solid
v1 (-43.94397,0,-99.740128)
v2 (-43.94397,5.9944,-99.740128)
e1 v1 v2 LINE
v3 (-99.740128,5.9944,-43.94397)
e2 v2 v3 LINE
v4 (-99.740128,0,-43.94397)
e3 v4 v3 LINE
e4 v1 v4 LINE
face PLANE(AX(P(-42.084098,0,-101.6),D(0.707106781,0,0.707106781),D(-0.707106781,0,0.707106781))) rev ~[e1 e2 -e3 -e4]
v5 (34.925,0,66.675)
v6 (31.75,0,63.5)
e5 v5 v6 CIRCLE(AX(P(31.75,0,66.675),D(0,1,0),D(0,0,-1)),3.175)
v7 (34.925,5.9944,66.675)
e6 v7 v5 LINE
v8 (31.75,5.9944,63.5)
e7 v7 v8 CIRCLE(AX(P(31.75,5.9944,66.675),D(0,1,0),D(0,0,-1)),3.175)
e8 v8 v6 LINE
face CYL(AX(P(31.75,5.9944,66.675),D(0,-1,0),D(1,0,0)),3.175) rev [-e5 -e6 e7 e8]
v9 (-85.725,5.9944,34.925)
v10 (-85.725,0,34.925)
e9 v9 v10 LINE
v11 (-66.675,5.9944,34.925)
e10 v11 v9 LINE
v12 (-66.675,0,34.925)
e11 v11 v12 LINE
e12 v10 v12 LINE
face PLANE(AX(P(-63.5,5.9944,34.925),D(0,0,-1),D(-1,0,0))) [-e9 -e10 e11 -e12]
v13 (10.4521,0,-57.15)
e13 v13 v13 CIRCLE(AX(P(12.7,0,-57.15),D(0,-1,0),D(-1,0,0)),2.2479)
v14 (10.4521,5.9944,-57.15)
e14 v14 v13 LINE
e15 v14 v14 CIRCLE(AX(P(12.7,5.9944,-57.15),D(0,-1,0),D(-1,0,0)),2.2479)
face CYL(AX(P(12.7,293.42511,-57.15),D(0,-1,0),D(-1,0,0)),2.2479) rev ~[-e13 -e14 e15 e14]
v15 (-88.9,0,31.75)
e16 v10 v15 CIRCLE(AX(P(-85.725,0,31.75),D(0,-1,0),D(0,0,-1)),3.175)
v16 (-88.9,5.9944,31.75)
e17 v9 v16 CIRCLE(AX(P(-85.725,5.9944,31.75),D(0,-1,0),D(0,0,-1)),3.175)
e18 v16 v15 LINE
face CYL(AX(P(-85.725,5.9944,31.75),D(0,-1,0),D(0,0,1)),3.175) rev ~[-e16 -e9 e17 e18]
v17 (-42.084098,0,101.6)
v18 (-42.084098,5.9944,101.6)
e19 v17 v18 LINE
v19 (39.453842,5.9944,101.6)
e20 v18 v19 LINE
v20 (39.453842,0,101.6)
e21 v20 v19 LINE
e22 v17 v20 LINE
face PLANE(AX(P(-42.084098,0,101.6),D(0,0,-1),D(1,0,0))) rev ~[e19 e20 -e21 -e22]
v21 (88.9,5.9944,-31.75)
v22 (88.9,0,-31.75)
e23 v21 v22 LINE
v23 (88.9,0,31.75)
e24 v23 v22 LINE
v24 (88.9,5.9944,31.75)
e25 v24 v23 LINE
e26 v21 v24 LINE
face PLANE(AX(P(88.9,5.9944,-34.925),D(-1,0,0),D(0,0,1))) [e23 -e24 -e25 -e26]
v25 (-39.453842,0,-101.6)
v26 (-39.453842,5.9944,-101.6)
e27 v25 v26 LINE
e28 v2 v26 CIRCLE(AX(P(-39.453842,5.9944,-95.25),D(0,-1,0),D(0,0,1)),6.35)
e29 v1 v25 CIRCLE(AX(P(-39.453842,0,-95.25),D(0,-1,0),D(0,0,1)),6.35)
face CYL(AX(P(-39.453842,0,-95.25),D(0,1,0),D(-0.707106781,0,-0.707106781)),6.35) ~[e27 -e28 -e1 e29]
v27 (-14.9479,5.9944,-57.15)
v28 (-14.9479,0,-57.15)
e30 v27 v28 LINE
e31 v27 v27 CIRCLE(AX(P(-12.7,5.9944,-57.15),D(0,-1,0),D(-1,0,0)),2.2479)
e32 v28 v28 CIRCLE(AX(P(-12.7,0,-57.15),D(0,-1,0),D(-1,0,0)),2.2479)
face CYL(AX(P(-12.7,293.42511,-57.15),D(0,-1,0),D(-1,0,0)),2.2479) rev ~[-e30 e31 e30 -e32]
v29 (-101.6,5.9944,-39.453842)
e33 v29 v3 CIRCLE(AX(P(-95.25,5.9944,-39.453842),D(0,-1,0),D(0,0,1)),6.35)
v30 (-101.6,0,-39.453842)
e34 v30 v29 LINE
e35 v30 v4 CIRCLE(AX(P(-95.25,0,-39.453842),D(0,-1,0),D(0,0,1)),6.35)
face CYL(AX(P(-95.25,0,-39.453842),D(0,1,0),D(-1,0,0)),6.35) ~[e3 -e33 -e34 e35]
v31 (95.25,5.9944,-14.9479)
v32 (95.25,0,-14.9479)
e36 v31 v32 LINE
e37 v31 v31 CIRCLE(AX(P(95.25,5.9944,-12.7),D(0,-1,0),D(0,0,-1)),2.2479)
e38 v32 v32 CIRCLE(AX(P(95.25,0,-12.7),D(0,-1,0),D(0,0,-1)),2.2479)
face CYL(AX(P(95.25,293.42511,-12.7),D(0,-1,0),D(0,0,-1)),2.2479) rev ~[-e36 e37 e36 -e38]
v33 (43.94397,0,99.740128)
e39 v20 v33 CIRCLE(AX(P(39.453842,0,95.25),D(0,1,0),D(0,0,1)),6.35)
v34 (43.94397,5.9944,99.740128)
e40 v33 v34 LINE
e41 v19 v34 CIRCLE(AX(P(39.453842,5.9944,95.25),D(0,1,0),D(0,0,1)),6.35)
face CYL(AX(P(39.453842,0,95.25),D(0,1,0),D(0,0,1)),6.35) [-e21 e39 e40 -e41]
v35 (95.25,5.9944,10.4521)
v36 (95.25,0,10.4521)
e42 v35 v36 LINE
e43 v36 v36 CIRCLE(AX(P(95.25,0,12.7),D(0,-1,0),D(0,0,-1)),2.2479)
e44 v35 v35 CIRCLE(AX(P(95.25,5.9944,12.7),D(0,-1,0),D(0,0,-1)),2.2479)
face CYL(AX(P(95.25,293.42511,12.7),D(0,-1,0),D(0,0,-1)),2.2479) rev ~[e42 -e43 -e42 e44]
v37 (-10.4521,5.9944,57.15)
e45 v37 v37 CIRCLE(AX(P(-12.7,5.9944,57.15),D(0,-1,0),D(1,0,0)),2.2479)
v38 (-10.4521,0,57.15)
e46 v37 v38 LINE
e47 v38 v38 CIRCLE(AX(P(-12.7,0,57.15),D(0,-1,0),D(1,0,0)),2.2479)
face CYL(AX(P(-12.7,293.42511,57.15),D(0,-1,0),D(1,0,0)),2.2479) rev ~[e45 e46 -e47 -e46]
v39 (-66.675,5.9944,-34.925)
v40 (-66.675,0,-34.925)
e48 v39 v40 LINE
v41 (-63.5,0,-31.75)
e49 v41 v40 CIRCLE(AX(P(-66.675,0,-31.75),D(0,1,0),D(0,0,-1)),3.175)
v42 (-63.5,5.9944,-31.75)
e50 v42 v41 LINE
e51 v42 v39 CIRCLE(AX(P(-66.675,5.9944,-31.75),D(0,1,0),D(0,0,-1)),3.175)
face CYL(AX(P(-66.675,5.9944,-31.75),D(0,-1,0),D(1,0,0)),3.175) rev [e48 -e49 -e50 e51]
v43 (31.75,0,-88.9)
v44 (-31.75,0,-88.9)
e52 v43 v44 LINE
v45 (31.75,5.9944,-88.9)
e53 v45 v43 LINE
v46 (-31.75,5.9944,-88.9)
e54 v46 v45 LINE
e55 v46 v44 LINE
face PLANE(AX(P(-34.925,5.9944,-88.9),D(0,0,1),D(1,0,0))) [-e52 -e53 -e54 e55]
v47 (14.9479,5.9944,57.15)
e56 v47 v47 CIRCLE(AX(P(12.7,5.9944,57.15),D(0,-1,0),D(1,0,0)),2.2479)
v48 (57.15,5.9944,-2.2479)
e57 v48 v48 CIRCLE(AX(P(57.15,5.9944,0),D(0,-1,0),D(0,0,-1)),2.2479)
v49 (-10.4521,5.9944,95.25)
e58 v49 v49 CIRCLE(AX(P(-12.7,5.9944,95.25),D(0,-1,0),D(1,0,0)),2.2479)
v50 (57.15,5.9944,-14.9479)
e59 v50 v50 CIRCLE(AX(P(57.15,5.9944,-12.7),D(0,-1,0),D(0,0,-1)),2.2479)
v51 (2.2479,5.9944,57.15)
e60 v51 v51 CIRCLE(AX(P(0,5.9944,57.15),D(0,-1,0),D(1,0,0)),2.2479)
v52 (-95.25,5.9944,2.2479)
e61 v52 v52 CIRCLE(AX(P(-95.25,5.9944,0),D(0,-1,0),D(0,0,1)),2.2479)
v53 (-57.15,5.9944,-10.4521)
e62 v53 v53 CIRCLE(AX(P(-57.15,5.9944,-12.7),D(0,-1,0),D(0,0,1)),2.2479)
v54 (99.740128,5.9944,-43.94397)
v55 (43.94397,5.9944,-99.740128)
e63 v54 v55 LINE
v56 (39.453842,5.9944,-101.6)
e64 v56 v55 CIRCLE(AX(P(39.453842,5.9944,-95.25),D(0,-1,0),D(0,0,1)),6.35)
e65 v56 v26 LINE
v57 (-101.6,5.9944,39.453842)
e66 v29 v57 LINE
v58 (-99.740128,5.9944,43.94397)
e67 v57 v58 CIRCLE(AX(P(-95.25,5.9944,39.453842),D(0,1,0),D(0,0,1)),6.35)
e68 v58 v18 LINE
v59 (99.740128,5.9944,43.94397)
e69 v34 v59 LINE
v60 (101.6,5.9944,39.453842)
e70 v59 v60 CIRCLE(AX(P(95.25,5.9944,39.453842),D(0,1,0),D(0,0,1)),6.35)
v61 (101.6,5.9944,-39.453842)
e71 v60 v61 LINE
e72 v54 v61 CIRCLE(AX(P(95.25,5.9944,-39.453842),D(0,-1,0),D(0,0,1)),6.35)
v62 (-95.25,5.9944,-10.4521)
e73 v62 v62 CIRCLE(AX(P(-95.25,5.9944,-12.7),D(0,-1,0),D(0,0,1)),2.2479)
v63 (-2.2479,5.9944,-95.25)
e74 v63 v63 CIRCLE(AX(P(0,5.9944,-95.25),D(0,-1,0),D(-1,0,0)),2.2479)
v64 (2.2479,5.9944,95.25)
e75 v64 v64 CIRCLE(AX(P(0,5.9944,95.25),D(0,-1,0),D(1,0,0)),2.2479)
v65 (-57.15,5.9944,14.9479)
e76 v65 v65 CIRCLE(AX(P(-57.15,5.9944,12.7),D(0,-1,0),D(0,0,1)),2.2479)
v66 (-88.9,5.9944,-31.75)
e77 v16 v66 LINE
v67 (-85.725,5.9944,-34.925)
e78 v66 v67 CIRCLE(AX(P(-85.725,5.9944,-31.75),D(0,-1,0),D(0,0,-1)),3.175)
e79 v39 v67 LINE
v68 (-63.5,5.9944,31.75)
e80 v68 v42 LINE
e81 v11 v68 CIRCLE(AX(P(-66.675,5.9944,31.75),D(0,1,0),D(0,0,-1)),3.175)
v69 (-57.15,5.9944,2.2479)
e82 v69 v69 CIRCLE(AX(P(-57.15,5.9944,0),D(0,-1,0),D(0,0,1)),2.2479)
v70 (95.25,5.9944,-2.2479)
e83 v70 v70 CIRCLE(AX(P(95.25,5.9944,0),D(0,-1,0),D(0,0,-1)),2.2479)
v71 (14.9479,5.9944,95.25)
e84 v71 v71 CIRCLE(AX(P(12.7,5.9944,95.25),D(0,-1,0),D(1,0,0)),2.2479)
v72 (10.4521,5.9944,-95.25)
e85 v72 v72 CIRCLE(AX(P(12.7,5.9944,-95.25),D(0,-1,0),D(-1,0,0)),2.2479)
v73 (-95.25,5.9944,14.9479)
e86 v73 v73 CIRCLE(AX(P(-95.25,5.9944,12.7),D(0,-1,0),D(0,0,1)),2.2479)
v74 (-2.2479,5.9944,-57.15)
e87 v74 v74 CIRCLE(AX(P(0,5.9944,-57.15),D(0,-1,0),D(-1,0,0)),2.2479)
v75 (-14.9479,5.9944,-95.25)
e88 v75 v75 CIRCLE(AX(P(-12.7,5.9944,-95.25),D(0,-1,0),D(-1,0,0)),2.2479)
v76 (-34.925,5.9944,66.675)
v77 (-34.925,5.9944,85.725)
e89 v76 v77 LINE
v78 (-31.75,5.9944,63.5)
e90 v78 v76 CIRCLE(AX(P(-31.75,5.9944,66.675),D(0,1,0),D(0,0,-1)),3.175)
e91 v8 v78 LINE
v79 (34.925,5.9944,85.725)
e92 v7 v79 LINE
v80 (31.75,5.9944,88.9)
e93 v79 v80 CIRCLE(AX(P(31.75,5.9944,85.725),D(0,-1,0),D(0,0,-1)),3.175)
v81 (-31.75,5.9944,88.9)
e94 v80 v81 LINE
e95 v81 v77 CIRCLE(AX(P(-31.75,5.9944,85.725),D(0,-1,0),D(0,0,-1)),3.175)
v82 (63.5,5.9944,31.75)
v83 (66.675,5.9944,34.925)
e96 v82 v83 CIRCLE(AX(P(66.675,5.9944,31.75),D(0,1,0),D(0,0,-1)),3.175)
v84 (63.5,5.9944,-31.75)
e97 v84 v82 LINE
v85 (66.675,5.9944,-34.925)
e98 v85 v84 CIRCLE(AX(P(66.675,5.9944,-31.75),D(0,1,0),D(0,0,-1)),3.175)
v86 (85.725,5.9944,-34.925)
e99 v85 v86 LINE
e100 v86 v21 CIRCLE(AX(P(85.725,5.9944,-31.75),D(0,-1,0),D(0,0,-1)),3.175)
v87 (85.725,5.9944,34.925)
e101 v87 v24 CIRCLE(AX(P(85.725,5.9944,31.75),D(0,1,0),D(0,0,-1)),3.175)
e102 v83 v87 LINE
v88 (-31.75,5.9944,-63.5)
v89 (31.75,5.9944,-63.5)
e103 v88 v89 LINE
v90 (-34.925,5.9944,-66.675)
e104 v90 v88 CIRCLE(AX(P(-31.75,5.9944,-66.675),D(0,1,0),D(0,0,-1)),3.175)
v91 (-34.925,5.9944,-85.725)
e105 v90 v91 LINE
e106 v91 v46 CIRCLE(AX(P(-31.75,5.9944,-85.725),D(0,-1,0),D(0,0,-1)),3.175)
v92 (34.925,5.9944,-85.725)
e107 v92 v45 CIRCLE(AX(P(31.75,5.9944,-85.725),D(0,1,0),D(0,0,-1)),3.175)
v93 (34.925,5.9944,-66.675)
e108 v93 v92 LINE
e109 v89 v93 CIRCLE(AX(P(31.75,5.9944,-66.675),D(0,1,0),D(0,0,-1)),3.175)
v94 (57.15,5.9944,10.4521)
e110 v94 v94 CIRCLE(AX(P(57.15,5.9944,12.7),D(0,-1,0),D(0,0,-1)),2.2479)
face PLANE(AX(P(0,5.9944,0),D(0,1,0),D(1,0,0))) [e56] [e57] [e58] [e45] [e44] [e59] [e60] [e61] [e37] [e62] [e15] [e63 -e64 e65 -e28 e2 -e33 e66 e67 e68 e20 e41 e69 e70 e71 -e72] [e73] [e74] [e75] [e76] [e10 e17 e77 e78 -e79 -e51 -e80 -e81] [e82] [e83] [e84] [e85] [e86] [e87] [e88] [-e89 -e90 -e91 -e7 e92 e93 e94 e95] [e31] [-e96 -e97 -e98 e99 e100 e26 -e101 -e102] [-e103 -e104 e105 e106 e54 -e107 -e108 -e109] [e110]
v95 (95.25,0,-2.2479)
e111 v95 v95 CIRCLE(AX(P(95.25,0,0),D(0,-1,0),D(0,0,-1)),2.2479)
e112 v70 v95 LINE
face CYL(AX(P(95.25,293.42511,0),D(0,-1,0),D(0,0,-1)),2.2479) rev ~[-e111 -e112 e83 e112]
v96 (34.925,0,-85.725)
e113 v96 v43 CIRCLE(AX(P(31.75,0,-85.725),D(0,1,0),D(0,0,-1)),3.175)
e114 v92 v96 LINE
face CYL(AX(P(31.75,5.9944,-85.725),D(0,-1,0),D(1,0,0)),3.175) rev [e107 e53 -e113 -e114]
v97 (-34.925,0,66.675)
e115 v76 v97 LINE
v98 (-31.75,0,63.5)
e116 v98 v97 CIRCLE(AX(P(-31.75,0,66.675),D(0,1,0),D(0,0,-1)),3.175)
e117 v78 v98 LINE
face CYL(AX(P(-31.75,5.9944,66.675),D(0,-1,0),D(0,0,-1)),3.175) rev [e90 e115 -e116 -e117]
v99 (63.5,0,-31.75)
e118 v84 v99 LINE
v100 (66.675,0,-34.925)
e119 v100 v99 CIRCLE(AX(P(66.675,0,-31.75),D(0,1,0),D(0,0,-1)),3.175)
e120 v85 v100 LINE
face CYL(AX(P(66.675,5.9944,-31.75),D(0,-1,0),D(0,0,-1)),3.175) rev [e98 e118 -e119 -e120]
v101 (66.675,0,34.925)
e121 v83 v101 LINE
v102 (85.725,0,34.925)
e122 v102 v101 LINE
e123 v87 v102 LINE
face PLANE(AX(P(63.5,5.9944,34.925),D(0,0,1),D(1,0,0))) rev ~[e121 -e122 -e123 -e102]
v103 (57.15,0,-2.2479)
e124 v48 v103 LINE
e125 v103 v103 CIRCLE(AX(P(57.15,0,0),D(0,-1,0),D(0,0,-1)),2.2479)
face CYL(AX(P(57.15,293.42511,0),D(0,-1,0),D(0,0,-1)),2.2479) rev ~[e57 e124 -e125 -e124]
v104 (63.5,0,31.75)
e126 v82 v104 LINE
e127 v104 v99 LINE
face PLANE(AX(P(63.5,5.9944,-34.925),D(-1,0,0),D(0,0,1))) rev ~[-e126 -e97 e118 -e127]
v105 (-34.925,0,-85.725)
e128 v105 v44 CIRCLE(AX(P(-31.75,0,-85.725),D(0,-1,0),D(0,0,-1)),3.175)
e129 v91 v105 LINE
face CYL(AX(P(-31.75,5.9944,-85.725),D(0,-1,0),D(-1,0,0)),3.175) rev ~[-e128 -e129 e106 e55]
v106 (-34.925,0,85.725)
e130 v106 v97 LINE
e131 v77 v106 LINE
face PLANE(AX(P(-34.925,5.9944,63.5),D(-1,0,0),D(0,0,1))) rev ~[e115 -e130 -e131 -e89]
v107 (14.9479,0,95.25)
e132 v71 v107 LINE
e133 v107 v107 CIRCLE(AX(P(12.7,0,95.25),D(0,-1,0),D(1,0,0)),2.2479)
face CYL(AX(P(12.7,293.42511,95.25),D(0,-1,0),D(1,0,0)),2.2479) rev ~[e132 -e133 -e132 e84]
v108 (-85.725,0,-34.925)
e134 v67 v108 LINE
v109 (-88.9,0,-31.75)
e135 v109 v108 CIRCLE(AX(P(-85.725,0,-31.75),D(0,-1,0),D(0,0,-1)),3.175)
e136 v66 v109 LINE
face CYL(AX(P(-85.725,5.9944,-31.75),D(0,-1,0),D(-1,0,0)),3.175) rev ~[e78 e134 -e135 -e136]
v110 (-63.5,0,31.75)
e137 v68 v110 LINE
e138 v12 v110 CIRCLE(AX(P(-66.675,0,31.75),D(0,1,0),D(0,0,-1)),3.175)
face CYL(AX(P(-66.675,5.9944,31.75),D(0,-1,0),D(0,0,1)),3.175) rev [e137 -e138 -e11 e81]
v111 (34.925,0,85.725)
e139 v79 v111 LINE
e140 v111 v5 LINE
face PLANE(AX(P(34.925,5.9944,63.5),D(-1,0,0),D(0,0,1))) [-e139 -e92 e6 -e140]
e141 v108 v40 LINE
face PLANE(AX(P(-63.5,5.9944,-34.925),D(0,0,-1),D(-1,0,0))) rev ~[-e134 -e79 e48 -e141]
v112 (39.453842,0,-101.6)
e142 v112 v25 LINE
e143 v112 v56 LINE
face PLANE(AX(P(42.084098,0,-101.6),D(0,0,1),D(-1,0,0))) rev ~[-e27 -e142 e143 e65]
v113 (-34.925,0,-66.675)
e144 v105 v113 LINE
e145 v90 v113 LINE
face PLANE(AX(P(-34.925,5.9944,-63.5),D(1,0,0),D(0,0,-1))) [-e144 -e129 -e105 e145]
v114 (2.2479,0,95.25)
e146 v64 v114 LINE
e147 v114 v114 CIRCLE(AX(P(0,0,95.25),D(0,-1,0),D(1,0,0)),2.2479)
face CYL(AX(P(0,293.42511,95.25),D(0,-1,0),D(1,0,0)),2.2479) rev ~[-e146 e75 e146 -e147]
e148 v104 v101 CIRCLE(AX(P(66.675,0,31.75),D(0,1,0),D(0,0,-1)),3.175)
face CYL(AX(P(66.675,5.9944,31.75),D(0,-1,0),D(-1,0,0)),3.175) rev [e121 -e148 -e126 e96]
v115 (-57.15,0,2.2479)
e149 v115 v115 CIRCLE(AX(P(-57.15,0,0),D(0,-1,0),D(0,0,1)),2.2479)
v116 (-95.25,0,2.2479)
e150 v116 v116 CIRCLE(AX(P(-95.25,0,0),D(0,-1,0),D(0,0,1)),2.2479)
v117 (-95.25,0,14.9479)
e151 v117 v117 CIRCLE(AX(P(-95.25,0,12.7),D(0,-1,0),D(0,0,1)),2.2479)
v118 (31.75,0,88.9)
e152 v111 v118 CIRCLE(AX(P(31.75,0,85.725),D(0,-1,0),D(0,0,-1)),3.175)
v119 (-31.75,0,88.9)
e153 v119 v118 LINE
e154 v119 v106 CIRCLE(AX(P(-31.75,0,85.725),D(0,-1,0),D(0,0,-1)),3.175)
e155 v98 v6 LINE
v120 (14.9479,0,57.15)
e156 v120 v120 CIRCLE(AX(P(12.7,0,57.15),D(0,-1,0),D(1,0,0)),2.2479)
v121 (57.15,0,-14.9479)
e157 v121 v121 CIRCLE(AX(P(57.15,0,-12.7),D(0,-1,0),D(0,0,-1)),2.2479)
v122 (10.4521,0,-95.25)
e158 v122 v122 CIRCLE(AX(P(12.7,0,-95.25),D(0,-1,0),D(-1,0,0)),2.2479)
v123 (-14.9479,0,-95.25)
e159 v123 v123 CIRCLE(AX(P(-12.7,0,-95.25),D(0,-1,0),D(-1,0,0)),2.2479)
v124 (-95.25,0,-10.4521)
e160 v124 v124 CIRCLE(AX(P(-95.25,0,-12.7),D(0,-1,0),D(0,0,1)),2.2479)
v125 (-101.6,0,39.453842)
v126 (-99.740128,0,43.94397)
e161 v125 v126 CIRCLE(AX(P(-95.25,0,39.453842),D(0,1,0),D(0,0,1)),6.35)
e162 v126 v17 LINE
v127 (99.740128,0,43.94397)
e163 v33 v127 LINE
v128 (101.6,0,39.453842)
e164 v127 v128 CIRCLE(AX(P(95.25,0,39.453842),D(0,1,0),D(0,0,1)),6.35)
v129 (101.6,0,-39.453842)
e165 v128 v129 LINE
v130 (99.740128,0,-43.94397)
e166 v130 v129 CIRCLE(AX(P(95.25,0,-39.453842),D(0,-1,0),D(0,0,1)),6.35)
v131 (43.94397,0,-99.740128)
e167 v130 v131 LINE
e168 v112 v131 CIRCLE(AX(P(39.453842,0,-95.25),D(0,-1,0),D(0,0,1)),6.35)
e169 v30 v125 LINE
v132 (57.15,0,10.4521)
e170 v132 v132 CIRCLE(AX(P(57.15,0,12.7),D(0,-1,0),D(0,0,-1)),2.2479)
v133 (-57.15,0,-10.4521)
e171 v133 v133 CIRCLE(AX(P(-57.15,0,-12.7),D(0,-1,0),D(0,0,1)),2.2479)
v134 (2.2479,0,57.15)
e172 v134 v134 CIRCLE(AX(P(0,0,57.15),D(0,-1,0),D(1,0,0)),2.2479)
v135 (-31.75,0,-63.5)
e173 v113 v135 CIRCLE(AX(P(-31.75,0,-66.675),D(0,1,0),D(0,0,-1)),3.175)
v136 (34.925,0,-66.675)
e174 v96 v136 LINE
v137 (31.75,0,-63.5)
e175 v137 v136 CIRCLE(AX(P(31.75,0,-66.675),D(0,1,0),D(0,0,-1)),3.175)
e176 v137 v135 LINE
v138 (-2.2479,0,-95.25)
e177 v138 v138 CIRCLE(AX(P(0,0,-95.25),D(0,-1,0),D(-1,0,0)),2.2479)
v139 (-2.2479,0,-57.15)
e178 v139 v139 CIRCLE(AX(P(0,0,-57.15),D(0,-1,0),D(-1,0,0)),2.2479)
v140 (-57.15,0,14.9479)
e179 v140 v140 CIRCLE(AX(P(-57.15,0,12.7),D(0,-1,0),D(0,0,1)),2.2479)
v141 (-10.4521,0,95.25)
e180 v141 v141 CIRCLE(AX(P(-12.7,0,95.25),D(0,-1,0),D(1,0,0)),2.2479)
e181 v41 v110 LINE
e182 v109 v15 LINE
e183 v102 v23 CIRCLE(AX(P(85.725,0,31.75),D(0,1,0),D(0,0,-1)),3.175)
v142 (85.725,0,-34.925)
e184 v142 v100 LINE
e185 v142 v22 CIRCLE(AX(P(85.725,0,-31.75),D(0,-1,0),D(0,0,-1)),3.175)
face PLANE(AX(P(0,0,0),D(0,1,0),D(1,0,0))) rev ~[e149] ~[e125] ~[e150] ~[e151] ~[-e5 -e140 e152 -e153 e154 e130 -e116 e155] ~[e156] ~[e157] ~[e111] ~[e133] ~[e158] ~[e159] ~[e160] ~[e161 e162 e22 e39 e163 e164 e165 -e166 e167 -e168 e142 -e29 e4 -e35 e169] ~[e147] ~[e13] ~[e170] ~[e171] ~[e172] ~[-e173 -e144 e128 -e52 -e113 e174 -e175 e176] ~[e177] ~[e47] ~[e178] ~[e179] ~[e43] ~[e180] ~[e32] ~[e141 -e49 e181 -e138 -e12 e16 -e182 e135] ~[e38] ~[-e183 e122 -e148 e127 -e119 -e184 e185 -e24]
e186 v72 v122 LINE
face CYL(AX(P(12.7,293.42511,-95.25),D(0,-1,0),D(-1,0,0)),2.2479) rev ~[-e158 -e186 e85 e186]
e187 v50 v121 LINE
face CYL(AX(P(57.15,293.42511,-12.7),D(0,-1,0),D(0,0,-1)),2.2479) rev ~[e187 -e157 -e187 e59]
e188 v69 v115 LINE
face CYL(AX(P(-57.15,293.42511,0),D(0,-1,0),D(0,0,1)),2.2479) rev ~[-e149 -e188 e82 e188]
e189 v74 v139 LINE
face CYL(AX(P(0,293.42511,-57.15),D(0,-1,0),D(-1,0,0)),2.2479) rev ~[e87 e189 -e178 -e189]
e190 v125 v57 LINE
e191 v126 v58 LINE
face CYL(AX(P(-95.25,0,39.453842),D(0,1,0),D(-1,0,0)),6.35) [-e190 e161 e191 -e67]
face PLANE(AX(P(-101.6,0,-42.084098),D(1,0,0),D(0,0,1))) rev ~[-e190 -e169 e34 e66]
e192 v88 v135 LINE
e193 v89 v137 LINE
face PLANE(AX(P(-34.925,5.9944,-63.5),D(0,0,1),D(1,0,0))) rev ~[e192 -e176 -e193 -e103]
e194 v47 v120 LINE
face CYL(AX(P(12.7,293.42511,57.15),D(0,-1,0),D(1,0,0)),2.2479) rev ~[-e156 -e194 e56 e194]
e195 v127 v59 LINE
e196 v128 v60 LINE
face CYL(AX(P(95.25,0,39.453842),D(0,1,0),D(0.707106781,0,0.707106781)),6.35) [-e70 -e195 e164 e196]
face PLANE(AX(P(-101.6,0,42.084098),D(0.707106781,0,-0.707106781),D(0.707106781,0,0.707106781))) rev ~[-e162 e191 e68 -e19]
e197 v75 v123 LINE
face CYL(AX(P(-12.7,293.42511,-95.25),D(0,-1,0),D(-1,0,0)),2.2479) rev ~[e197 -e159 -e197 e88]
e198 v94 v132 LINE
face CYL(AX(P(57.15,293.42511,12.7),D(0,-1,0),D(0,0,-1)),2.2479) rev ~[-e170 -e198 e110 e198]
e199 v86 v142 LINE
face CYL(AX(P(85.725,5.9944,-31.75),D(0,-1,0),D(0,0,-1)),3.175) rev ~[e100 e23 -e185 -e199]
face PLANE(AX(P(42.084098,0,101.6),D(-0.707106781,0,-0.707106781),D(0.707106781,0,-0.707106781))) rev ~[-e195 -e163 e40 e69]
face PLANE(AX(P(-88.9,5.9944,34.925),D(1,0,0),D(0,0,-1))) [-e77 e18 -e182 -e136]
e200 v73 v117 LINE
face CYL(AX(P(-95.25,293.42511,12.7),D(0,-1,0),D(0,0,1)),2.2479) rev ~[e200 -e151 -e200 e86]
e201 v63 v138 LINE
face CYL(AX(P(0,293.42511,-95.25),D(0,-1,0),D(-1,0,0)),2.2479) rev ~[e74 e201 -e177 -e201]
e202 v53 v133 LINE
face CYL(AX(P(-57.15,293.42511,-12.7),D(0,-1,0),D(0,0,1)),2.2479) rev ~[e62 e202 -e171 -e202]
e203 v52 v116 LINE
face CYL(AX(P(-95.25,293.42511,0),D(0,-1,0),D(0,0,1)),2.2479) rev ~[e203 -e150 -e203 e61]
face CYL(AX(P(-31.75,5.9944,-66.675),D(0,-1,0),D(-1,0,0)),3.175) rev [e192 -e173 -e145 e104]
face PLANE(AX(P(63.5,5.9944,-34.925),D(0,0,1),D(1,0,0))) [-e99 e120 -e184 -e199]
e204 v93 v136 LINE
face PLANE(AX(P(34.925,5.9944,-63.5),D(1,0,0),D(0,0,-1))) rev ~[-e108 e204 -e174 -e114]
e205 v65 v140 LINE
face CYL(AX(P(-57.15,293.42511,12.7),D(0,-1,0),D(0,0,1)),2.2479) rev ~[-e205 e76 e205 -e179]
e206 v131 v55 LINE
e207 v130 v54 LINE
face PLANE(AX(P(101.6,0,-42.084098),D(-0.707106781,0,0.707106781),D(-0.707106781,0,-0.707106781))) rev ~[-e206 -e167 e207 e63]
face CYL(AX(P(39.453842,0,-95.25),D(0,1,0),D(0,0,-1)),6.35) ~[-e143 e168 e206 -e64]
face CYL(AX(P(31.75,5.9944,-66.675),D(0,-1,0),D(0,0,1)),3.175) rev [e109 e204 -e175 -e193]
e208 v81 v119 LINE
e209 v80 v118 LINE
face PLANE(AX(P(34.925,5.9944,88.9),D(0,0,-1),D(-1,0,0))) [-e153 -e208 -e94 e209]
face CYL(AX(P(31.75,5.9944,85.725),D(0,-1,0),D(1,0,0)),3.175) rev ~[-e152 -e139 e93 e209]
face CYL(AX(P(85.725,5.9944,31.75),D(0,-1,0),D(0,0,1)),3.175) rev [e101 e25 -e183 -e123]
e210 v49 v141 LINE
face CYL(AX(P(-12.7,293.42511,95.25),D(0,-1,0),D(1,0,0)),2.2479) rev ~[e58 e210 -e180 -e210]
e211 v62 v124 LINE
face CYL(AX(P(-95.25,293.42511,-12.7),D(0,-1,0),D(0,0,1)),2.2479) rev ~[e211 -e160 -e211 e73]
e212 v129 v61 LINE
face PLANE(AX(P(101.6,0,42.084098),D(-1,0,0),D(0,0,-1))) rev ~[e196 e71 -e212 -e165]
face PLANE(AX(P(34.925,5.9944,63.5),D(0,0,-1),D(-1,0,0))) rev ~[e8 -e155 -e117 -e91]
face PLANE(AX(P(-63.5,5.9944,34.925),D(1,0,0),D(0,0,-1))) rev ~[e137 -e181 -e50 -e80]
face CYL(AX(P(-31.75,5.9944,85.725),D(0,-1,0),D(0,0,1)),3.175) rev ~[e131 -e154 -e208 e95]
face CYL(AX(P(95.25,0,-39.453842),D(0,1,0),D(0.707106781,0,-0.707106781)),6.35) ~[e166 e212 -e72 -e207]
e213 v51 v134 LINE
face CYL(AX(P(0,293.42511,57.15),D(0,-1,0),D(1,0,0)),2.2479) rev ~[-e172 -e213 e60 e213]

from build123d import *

# Parameters (mm, degrees)
BASE_DEPTH                                 = 5.9944
WHEEL_CUTOUT_REACH                         = 145.809
SKETCH3_W                                  = 69.85
SKETCH3_H                                  = 25.4
WHEEL_CUTOUT_FILLETS_R                     = 3.175
WHEEL_CUTOUT_PATTERN_COUNT                 = 4
WHEEL_CUTOUT_FILLETS_OF_WHEEL_CUTOUT_PAT_R = 3.175
OUTSIDE_FILLETS_R                          = 6.35
F_8_CLEARANCE_HOLE1_D                      = 4.4958
CIRPATTERN2_COUNT                          = 4


with BuildPart() as part:
    # Base sketch → Base (new body)
    with BuildSketch(Plane(origin=(0, 0, 0), x_dir=(1, 0, 0), z_dir=(0, 1, 0))):
        Polygon((-101.6, 42.084097937), (-101.6, -42.084097937), (-42.084097937, -101.6), (42.084097937, -101.6), (101.6, -42.084097937), (101.6, 42.084097937), (42.084097937, 101.6), (-42.084097937, 101.6), align=None)
    extrude(amount=BASE_DEPTH)

    # Sketch3 → Wheel cutout (cut, up to next)
    with BuildSketch(Plane(origin=(0, 5.9944, 0), x_dir=(1, 0, 0), z_dir=(0, 1, 0)), mode=Mode.PRIVATE) as wheel_cutout_sk1:
        with Locations((0, 76.2)):
            Rectangle(SKETCH3_W, SKETCH3_H)
    wheel_cutout_tool1 = extrude(wheel_cutout_sk1.sketch, amount=-WHEEL_CUTOUT_REACH, mode=Mode.PRIVATE) & part.part
    wheel_cutout = wheel_cutout_tool1.solids().sort_by_distance((0, 5.9944, -76.2))[0]
    add(wheel_cutout, mode=Mode.SUBTRACT)

    # Wheel cutout fillets
    wheel_cutout_fillets_edges = [part.edges().sort_by_distance(p)[0] for p in [
        (-34.925, 2.9972, -63.5),
        (-34.925, 2.9972, -88.9),
        (34.925, 2.9972, -88.9),
        (34.925, 2.9972, -63.5),
    ]]
    fillet(wheel_cutout_fillets_edges, radius=WHEEL_CUTOUT_FILLETS_R)

    # Wheel cutout pattern: Wheel cutout ×4 about axis
    wheel_cutout_pattern_axis = Axis((0, 0, 0), (0, 1, 0))
    for i in range(1, WHEEL_CUTOUT_PATTERN_COUNT):
        add(wheel_cutout.rotate(wheel_cutout_pattern_axis, i * 360 / WHEEL_CUTOUT_PATTERN_COUNT), mode=Mode.SUBTRACT)

    # Wheel cutout fillets of Wheel cutout pat
    wheel_cutout_fillets_of_wheel_cutout_pat_edges = [part.edges().sort_by_distance(p)[0] for p in [
        (-63.5, 2.9972, 34.925),
        (-88.9, 2.9972, 34.925),
        (-88.9, 2.9972, -34.925),
        (-63.5, 2.9972, -34.925),
        (34.925, 2.9972, 63.5),
        (34.925, 2.9972, 88.9),
        (-34.925, 2.9972, 88.9),
        (-34.925, 2.9972, 63.5),
        (63.5, 2.9972, -34.925),
        (88.9, 2.9972, -34.925),
        (88.9, 2.9972, 34.925),
        (63.5, 2.9972, 34.925),
    ]]
    fillet(wheel_cutout_fillets_of_wheel_cutout_pat_edges, radius=WHEEL_CUTOUT_FILLETS_OF_WHEEL_CUTOUT_PAT_R)

    # Outside fillets
    outside_fillets_edges = [part.edges().sort_by_distance(p)[0] for p in [
        (-42.084097937, 2.9972, -101.6),
        (42.084097937, 2.9972, -101.6),
        (101.6, 2.9972, -42.084097937),
        (101.6, 2.9972, 42.084097937),
        (42.084097937, 2.9972, 101.6),
        (-101.6, 2.9972, 42.084097937),
        (-101.6, 2.9972, -42.084097937),
    ]]
    fillet(outside_fillets_edges, radius=OUTSIDE_FILLETS_R)

    # #8 Clearance Hole1 (through all)
    with Locations(Plane(origin=(0, 5.9944, 0), x_dir=(1, 0, 0), z_dir=(0, 1, 0))):
        with Locations((0, 95.25), (-12.7, 95.25), (12.7, 95.25), (12.7, 57.15), (-12.7, 57.15), (0, 57.15)):
            f_8_clearance_hole1 = Hole(F_8_CLEARANCE_HOLE1_D / 2)

    # CirPattern2: #8 Clearance Hole1 ×4 about axis
    cirpattern2_axis = Axis((0, 0, 0), (0, 1, 0))
    for i in range(1, CIRPATTERN2_COUNT):
        add(f_8_clearance_hole1.rotate(cirpattern2_axis, i * 360 / CIRPATTERN2_COUNT), mode=Mode.SUBTRACT)


solid = part.part
